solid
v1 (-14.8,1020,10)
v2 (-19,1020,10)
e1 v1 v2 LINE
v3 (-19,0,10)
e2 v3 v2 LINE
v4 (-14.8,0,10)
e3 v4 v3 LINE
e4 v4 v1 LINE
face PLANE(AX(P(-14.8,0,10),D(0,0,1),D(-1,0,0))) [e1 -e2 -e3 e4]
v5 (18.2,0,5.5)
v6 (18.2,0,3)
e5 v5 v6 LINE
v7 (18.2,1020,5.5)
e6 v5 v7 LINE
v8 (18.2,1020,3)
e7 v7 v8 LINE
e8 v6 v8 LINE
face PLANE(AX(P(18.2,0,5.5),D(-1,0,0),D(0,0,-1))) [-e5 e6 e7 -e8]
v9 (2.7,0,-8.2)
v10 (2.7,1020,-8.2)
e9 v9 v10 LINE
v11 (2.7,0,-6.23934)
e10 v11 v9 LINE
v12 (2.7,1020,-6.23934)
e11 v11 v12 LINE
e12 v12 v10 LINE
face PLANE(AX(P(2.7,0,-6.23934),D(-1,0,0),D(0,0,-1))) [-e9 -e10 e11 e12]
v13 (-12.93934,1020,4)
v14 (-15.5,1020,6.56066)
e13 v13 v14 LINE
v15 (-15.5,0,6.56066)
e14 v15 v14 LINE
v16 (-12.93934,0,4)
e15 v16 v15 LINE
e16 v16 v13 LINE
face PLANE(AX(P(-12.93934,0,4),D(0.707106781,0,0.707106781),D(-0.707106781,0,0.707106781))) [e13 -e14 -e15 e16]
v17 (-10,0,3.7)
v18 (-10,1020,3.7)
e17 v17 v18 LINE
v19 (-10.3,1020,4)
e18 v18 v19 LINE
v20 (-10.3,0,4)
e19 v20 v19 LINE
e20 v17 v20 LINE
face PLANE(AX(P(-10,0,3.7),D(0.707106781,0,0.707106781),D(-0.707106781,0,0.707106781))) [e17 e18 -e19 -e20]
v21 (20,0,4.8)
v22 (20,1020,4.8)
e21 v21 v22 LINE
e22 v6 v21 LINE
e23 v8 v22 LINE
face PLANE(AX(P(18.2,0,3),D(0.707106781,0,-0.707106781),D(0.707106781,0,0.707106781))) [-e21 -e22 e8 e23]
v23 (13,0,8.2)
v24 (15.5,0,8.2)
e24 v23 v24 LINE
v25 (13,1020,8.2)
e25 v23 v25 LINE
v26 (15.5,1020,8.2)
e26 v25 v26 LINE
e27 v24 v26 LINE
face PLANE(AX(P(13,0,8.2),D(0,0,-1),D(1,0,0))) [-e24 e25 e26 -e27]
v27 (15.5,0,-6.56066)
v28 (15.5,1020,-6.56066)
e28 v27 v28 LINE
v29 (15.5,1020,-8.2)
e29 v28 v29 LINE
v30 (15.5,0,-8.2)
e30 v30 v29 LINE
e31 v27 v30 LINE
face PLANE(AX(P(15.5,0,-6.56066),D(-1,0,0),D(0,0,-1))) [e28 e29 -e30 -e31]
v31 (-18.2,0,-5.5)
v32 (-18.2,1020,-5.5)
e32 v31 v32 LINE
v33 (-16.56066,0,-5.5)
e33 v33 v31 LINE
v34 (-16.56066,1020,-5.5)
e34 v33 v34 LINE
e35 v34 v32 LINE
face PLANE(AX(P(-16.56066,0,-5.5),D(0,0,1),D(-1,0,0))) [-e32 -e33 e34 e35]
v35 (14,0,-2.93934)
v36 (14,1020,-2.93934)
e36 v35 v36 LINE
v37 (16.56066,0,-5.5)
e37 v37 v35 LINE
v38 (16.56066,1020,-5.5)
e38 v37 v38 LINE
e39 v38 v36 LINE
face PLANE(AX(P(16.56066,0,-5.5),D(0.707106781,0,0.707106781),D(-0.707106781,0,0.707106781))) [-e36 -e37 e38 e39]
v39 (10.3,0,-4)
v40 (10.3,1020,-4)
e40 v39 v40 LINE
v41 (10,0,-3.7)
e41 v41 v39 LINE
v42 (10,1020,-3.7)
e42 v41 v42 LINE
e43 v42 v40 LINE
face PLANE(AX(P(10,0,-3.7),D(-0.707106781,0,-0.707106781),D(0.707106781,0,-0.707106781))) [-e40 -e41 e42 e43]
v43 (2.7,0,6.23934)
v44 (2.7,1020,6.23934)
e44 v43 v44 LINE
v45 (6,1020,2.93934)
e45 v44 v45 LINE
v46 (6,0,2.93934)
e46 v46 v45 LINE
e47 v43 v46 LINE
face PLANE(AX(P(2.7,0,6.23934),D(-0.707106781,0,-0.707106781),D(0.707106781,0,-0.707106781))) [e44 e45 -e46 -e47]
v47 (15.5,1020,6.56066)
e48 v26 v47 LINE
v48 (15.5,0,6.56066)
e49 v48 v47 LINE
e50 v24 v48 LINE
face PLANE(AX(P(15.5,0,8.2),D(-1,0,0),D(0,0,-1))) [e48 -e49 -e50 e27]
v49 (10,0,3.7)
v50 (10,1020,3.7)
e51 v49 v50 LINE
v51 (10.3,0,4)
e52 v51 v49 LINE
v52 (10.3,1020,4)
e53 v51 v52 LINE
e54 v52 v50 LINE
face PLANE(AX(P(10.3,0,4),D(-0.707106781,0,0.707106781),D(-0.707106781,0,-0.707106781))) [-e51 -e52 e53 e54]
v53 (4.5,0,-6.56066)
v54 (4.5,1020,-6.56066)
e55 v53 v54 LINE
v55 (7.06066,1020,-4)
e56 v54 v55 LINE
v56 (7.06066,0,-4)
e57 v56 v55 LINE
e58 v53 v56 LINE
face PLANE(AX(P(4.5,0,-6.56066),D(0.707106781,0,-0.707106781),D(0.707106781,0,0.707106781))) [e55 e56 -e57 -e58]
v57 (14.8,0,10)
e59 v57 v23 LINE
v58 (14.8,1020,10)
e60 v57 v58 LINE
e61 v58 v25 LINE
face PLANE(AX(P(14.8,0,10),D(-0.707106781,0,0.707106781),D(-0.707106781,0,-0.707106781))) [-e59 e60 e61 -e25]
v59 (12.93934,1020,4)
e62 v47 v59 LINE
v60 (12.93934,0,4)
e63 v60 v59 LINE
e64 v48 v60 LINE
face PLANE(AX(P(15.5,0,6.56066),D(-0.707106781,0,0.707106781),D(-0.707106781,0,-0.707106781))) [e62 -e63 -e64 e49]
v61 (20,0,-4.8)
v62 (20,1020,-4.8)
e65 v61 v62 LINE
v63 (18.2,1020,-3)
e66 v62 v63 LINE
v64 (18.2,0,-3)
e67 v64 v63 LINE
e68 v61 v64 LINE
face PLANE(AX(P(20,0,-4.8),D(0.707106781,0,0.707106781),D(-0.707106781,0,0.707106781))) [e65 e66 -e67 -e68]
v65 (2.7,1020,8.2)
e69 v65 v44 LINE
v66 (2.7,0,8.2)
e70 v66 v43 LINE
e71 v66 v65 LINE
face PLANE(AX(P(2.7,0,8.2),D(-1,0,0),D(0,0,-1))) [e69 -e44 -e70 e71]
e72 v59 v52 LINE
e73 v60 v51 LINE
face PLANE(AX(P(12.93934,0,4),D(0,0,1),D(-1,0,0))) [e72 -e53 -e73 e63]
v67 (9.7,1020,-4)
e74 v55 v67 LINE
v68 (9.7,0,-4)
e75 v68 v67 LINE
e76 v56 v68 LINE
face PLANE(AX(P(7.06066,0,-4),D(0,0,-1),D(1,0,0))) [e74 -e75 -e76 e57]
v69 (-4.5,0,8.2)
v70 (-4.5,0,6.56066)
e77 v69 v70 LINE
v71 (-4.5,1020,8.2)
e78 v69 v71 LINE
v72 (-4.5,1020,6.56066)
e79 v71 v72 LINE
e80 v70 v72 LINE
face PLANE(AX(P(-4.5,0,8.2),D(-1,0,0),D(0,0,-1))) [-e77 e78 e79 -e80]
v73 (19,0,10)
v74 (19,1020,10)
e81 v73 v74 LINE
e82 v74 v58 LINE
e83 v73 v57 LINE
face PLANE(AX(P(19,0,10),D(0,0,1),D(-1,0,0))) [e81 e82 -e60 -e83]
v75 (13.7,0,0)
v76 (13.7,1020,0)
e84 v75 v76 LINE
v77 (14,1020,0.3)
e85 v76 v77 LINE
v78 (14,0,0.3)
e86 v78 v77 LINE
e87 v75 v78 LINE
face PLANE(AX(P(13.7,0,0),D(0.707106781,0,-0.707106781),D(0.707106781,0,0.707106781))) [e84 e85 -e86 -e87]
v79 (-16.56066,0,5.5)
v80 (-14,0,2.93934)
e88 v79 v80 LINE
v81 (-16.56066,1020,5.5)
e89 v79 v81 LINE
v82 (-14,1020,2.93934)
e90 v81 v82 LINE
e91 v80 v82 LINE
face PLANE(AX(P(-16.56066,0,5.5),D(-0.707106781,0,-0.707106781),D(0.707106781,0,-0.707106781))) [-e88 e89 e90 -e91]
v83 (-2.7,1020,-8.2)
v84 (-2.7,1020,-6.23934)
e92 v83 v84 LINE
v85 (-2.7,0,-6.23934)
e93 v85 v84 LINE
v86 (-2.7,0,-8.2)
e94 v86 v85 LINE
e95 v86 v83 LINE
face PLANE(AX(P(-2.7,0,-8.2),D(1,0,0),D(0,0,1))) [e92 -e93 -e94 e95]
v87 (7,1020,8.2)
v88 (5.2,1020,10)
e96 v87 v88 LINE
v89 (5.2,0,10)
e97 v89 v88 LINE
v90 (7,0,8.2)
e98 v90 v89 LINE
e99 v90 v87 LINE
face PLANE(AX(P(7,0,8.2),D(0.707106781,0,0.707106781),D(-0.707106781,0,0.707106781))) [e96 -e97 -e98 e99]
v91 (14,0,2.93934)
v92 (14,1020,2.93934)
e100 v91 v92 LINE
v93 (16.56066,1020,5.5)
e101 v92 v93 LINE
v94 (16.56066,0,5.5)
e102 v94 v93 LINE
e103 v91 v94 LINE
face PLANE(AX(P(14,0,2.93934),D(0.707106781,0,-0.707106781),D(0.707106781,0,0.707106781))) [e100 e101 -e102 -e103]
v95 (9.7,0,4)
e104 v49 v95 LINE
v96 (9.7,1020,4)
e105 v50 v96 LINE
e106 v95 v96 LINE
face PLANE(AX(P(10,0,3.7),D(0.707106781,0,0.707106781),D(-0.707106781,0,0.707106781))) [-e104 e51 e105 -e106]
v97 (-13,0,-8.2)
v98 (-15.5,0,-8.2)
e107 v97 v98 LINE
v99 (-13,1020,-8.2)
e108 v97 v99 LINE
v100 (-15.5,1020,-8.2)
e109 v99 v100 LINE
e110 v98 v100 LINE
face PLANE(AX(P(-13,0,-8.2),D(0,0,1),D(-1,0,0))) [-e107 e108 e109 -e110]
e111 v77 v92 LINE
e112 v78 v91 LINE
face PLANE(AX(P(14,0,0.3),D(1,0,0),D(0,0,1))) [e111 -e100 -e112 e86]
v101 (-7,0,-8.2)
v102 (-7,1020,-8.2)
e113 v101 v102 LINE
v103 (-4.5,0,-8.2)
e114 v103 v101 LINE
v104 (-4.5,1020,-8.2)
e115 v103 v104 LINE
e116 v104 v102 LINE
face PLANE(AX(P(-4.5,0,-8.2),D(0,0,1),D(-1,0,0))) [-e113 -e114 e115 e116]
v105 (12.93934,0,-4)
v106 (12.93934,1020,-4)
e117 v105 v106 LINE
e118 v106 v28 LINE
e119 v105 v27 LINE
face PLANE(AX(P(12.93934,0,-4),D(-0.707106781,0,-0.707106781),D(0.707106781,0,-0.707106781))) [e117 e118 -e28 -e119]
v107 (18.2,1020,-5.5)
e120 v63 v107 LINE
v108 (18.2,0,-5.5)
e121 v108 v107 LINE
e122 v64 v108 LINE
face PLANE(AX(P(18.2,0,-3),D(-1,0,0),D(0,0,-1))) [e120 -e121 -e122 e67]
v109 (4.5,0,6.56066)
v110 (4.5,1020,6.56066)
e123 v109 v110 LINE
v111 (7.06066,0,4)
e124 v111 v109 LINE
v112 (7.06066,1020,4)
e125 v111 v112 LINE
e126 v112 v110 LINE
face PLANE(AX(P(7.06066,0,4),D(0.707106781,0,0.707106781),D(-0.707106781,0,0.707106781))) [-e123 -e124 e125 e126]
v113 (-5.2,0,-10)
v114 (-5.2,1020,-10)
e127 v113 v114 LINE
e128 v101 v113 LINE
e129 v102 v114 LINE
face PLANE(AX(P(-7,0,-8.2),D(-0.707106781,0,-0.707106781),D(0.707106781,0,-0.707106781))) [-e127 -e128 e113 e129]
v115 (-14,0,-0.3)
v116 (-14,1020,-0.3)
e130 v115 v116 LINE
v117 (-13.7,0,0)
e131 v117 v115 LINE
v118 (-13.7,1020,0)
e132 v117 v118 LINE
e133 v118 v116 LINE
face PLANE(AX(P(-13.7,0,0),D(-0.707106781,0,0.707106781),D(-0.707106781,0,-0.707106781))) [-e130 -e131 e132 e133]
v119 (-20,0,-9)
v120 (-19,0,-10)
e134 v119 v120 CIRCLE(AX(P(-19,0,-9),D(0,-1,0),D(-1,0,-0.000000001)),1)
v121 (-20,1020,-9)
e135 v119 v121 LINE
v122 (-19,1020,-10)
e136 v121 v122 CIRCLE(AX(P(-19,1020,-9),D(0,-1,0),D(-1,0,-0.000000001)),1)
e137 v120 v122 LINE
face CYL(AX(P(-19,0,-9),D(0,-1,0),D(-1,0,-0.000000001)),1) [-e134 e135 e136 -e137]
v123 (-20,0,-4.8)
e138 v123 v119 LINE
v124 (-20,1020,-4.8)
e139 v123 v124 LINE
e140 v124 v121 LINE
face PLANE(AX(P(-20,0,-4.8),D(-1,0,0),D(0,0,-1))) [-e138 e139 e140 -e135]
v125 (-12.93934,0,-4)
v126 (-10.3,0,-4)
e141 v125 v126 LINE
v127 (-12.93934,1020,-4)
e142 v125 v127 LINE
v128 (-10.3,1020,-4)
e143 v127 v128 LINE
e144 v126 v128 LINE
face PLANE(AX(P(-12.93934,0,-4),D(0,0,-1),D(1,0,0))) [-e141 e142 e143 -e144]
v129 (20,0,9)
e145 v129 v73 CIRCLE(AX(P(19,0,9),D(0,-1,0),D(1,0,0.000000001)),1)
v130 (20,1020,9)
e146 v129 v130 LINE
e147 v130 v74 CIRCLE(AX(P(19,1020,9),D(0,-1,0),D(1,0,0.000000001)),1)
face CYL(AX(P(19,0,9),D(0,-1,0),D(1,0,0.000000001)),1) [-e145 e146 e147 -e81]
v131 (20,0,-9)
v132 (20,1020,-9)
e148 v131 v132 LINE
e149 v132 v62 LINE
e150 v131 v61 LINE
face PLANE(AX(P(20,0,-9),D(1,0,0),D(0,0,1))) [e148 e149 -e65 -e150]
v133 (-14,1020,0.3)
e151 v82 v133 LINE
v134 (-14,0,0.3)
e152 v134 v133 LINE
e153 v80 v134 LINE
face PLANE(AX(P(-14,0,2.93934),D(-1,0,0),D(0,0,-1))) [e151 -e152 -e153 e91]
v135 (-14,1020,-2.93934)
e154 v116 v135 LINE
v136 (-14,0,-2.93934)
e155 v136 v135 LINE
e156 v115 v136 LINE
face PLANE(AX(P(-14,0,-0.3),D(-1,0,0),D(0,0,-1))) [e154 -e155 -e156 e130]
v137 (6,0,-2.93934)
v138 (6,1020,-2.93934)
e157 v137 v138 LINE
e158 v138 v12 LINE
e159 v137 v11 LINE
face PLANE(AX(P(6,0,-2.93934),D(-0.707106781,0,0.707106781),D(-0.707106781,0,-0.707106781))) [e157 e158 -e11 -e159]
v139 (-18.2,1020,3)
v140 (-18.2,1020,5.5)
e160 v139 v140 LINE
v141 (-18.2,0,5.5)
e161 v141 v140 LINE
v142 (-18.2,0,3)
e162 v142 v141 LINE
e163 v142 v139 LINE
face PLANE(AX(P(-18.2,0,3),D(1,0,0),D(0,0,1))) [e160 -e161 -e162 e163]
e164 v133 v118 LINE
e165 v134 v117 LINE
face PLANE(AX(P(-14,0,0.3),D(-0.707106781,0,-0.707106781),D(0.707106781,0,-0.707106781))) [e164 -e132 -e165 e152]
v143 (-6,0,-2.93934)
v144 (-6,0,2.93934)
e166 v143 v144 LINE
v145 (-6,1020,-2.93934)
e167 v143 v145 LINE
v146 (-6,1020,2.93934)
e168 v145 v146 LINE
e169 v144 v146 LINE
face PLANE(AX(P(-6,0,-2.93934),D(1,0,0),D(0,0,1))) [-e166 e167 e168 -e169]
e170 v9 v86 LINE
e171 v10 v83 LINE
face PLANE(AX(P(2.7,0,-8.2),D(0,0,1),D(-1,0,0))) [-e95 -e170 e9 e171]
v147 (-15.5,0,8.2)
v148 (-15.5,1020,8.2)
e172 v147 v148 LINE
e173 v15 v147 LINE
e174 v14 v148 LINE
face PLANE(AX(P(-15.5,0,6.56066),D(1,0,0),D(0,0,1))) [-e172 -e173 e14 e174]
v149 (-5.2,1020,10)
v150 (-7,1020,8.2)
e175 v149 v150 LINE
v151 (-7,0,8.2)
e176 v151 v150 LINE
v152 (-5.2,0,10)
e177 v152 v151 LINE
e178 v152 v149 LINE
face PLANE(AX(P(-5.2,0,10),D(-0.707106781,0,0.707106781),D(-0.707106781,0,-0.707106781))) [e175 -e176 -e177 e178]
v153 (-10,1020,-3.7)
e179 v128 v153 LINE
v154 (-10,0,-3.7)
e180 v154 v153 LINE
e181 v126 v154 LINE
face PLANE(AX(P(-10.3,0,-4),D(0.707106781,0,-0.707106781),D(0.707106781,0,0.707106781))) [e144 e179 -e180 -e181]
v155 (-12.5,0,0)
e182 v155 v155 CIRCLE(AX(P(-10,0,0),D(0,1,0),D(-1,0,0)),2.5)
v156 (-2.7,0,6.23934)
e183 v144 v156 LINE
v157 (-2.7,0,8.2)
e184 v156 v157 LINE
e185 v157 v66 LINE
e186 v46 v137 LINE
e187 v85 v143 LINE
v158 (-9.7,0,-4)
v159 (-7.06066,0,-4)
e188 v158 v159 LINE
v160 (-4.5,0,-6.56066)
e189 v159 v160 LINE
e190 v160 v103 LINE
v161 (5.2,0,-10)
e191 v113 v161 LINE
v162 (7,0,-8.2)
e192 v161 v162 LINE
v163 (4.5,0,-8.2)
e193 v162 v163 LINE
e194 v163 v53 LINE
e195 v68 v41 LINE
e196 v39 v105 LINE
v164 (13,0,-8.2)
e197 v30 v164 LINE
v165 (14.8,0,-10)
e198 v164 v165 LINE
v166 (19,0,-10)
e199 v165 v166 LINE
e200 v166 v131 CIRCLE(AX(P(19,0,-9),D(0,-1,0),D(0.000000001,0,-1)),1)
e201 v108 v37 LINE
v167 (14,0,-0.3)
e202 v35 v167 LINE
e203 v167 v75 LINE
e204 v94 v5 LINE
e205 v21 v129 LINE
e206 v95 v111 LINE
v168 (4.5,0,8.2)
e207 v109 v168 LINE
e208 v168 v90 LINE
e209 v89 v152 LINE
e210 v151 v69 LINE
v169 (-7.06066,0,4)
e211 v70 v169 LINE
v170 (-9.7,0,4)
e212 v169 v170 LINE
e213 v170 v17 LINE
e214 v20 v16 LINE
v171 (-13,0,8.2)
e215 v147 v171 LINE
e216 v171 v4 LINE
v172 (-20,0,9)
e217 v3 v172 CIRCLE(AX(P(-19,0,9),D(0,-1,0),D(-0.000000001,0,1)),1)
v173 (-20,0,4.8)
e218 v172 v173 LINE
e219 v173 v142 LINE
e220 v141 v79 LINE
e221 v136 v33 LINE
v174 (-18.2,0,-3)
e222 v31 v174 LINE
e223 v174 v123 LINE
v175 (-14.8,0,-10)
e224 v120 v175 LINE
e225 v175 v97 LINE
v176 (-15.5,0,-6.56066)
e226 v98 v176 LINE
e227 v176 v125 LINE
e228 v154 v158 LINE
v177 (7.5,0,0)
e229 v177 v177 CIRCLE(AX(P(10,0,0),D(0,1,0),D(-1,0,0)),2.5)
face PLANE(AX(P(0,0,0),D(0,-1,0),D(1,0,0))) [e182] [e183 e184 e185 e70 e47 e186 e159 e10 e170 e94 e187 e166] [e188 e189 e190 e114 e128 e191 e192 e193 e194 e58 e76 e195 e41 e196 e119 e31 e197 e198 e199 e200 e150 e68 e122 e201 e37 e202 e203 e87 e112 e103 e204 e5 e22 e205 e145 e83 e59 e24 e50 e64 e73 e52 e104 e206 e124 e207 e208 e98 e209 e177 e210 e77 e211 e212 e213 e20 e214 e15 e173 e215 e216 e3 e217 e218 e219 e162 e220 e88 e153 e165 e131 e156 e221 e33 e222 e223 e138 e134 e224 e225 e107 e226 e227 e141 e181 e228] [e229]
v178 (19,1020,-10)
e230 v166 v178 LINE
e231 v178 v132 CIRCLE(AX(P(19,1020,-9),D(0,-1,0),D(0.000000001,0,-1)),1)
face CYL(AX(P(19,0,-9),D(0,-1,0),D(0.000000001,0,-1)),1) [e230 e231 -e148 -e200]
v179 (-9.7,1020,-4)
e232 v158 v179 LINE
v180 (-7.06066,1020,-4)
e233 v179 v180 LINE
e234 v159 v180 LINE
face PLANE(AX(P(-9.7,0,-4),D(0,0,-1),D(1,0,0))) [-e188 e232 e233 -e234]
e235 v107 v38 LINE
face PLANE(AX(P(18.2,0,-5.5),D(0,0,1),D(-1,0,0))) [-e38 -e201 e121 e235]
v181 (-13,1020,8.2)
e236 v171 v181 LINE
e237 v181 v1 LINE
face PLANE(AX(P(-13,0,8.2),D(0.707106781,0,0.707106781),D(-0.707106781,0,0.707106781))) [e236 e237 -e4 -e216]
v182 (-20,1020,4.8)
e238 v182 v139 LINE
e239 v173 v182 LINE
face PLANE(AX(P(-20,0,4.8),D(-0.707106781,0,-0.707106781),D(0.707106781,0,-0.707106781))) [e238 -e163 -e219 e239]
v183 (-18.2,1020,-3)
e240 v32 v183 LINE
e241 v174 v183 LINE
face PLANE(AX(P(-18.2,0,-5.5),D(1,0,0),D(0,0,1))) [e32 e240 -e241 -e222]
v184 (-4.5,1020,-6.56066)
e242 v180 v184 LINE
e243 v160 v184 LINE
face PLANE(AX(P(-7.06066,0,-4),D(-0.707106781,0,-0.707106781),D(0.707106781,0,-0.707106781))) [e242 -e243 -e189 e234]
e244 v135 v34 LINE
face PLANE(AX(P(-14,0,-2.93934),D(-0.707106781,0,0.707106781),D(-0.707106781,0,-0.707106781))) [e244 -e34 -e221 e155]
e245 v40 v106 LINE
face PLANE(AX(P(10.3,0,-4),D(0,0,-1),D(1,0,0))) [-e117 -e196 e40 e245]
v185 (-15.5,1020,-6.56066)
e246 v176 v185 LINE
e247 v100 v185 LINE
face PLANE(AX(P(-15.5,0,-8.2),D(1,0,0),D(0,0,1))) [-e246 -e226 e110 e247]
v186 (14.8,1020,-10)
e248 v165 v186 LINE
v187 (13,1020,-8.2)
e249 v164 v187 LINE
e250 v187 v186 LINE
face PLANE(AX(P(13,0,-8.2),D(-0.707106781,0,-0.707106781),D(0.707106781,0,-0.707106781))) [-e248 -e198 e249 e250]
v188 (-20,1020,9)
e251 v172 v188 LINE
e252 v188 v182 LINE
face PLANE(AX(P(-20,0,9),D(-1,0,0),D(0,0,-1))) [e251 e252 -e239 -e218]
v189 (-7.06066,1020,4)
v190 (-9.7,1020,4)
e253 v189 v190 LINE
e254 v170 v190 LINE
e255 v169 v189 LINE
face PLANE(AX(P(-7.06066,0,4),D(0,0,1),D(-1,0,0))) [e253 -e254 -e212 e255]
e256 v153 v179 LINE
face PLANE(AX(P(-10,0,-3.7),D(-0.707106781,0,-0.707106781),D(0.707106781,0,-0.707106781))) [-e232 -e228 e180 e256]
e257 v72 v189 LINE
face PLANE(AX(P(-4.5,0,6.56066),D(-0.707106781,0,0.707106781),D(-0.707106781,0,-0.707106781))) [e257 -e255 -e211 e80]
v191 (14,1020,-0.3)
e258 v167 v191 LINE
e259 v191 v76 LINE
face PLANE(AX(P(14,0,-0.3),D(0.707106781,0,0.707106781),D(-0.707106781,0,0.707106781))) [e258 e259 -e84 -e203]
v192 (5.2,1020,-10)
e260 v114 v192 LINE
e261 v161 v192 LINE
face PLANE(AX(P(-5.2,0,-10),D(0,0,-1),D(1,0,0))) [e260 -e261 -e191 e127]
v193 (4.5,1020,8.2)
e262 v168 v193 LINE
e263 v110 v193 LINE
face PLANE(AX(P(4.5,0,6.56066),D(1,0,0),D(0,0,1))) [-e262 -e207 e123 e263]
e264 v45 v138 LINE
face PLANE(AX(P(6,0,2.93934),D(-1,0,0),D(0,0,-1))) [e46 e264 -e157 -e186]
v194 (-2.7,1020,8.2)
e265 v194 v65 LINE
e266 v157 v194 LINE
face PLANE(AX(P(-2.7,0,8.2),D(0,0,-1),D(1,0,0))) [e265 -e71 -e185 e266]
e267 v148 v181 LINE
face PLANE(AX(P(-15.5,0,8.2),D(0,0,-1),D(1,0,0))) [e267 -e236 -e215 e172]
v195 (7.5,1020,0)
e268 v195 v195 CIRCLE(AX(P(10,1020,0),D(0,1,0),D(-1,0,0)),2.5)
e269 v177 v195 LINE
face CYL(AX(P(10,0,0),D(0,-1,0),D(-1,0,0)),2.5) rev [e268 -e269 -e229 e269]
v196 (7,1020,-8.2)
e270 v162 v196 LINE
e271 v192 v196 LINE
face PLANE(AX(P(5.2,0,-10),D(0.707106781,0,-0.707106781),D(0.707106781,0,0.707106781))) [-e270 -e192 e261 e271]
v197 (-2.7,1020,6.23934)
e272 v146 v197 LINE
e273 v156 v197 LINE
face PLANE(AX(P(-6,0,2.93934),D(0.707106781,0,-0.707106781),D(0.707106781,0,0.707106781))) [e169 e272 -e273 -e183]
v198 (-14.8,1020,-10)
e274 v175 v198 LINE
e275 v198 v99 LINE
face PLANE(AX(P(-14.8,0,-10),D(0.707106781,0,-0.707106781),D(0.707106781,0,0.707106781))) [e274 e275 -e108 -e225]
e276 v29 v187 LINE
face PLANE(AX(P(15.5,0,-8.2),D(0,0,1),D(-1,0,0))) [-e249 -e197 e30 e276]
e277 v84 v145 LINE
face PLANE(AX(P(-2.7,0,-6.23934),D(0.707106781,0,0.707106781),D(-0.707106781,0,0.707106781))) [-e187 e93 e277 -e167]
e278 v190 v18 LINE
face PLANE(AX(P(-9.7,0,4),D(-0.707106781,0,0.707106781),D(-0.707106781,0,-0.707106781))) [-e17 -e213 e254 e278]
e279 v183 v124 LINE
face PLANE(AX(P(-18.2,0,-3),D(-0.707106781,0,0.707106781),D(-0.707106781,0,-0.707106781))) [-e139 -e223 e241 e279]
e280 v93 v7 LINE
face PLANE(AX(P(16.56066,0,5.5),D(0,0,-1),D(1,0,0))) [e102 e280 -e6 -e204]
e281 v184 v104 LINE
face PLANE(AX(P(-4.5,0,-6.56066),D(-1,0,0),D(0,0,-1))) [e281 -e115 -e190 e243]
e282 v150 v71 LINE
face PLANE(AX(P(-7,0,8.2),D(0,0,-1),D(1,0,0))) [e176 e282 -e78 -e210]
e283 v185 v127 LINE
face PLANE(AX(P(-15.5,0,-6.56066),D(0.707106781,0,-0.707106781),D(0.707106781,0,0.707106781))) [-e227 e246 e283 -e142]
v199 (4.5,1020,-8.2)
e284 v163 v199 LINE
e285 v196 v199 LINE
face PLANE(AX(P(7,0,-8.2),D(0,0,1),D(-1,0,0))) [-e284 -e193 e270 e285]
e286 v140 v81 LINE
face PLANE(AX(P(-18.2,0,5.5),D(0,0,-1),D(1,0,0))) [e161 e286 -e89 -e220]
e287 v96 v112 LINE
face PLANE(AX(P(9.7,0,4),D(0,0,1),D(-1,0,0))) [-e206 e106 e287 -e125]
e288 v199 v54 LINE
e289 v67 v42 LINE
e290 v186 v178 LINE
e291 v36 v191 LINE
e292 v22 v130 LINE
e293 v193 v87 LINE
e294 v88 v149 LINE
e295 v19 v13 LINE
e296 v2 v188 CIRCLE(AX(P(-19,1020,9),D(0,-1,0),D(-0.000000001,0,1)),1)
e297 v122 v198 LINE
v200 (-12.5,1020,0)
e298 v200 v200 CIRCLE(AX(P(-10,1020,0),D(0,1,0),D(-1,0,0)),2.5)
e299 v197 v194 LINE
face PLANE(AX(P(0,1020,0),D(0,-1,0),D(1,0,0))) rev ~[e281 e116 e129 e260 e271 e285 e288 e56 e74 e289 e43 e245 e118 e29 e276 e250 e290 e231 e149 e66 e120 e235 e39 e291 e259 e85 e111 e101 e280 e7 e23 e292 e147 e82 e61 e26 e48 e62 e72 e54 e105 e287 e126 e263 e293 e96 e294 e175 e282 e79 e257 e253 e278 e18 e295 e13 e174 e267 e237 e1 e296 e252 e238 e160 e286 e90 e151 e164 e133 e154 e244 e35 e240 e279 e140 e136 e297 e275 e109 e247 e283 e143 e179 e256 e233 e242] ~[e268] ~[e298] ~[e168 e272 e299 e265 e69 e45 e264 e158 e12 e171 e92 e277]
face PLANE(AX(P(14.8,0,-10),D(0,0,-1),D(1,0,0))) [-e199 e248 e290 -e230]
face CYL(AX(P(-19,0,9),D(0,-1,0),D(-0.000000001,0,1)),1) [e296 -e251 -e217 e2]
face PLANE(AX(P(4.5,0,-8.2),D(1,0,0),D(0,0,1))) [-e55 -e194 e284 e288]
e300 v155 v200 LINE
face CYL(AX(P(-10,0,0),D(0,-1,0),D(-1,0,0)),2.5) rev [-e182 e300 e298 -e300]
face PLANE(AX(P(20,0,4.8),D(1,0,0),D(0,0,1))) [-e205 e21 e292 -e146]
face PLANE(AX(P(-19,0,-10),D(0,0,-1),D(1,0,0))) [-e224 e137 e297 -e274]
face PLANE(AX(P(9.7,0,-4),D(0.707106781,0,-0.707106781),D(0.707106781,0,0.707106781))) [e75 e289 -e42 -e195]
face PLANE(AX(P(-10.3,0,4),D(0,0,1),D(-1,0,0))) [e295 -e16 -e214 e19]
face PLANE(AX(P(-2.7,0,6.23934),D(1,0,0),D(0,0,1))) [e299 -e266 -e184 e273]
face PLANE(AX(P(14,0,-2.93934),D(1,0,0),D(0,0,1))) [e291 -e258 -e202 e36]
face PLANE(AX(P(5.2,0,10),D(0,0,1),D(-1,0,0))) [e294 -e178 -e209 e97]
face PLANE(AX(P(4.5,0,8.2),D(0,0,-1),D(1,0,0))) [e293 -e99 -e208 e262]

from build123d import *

# Parameters (mm, degrees)
SKETCH13_R                                  = 2.5
RETANGULAR_PF20_12_PERFIL_2040_V_SLOT_DEPTH = 1020


with BuildPart() as part:
    # Sketch13 → Retangular PF20-12 - PERFIL 2040 V-SLOT(1) (new body)
    with BuildSketch(Plane(origin=(0, 0, 0), x_dir=(-1, 0, 0), z_dir=(0, 1, 0))):
        with BuildLine():
            Line((-14.8, 10), (-13, 8.2))
            Line((-13, 8.2), (-15.5, 8.2))
            Line((-15.5, 8.2), (-15.5, 6.560660172))
            Line((-15.5, 6.560660172), (-12.939339828, 4))
            Line((-12.939339828, 4), (-10.3, 4))
            Line((-10.3, 4), (-10, 3.7))
            Line((-10, 3.7), (-9.7, 4))
            Line((-9.7, 4), (-7.060660172, 4))
            Line((-7.060660172, 4), (-4.5, 6.560660172))
            Line((-4.5, 6.560660172), (-4.5, 8.2))
            Line((-4.5, 8.2), (-7, 8.2))
            Line((-7, 8.2), (-5.2, 10))
            Line((-5.2, 10), (5.2, 10))
            Line((5.2, 10), (7, 8.2))
            Line((7, 8.2), (4.5, 8.2))
            Line((4.5, 8.2), (4.5, 6.560660172))
            Line((4.5, 6.560660172), (7.060660172, 4))
            Line((7.060660172, 4), (9.7, 4))
            Line((9.7, 4), (10, 3.7))
            Line((10, 3.7), (10.3, 4))
            Line((10.3, 4), (12.939339828, 4))
            Line((12.939339828, 4), (15.5, 6.560660172))
            Line((15.5, 6.560660172), (15.5, 8.2))
            Line((15.5, 8.2), (13, 8.2))
            Line((13, 8.2), (14.8, 10))
            Line((14.8, 10), (19, 10))
            ThreePointArc((19, 10), (19.707106781, 9.707106781), (20, 9))
            Line((20, 9), (20, 4.8))
            Line((20, 4.8), (18.2, 3))
            Line((18.2, 3), (18.2, 5.5))
            Line((18.2, 5.5), (16.560660172, 5.5))
            Line((16.560660172, 5.5), (14, 2.939339828))
            Line((14, 2.939339828), (14, 0.3))
            Line((14, 0.3), (13.7, 0))
            Line((13.7, 0), (14, -0.3))
            Line((14, -0.3), (14, -2.939339828))
            Line((14, -2.939339828), (16.560660172, -5.5))
            Line((16.560660172, -5.5), (18.2, -5.5))
            Line((18.2, -5.5), (18.2, -3))
            Line((18.2, -3), (20, -4.8))
            Line((20, -4.8), (20, -9))
            ThreePointArc((20, -9), (19.707106781, -9.707106781), (19, -10))
            Line((19, -10), (14.8, -10))
            Line((14.8, -10), (13, -8.2))
            Line((13, -8.2), (15.5, -8.2))
            Line((15.5, -8.2), (15.5, -6.560660172))
            Line((15.5, -6.560660172), (12.939339828, -4))
            Line((12.939339828, -4), (10.3, -4))
            Line((10.3, -4), (10, -3.7))
            Line((10, -3.7), (9.7, -4))
            Line((9.7, -4), (7.060660172, -4))
            Line((7.060660172, -4), (4.5, -6.560660172))
            Line((4.5, -6.560660172), (4.5, -8.2))
            Line((4.5, -8.2), (7, -8.2))
            Line((7, -8.2), (5.2, -10))
            Line((5.2, -10), (-5.2, -10))
            Line((-5.2, -10), (-7, -8.2))
            Line((-7, -8.2), (-4.5, -8.2))
            Line((-4.5, -8.2), (-4.5, -6.560660172))
            Line((-4.5, -6.560660172), (-7.060660172, -4))
            Line((-7.060660172, -4), (-9.7, -4))
            Line((-9.7, -4), (-10, -3.7))
            Line((-10, -3.7), (-10.3, -4))
            Line((-10.3, -4), (-12.939339828, -4))
            Line((-12.939339828, -4), (-15.5, -6.560660172))
            Line((-15.5, -6.560660172), (-15.5, -8.2))
            Line((-15.5, -8.2), (-13, -8.2))
            Line((-13, -8.2), (-14.8, -10))
            Line((-14.8, -10), (-19, -10))
            ThreePointArc((-19, -10), (-19.707106781, -9.707106781), (-20, -9))
            Line((-20, -9), (-20, -4.8))
            Line((-20, -4.8), (-18.2, -3))
            Line((-18.2, -3), (-18.2, -5.5))
            Line((-18.2, -5.5), (-16.560660172, -5.5))
            Line((-16.560660172, -5.5), (-14, -2.939339828))
            Line((-14, -2.939339828), (-14, -0.3))
            Line((-14, -0.3), (-13.7, 0))
            Line((-13.7, 0), (-14, 0.3))
            Line((-14, 0.3), (-14, 2.939339828))
            Line((-14, 2.939339828), (-16.560660172, 5.5))
            Line((-16.560660172, 5.5), (-18.2, 5.5))
            Line((-18.2, 5.5), (-18.2, 3))
            Line((-18.2, 3), (-20, 4.8))
            Line((-20, 4.8), (-20, 9))
            ThreePointArc((-20, 9), (-19.707106781, 9.707106781), (-19, 10))
            Line((-19, 10), (-14.8, 10))
        make_face()
        with Locations((-10, 0)):
            Circle(SKETCH13_R, mode=Mode.SUBTRACT)
        with Locations((10, 0)):
            Circle(SKETCH13_R, mode=Mode.SUBTRACT)
        Polygon((-2.7, 8.2), (-2.7, 6.239339828), (-6, 2.939339828), (-6, -2.939339828), (-2.7, -6.239339828), (-2.7, -8.2), (2.7, -8.2), (2.7, -6.239339828), (6, -2.939339828), (6, 2.939339828), (2.7, 6.239339828), (2.7, 8.2), align=None, mode=Mode.SUBTRACT)
    extrude(amount=RETANGULAR_PF20_12_PERFIL_2040_V_SLOT_DEPTH)


solid = part.part
